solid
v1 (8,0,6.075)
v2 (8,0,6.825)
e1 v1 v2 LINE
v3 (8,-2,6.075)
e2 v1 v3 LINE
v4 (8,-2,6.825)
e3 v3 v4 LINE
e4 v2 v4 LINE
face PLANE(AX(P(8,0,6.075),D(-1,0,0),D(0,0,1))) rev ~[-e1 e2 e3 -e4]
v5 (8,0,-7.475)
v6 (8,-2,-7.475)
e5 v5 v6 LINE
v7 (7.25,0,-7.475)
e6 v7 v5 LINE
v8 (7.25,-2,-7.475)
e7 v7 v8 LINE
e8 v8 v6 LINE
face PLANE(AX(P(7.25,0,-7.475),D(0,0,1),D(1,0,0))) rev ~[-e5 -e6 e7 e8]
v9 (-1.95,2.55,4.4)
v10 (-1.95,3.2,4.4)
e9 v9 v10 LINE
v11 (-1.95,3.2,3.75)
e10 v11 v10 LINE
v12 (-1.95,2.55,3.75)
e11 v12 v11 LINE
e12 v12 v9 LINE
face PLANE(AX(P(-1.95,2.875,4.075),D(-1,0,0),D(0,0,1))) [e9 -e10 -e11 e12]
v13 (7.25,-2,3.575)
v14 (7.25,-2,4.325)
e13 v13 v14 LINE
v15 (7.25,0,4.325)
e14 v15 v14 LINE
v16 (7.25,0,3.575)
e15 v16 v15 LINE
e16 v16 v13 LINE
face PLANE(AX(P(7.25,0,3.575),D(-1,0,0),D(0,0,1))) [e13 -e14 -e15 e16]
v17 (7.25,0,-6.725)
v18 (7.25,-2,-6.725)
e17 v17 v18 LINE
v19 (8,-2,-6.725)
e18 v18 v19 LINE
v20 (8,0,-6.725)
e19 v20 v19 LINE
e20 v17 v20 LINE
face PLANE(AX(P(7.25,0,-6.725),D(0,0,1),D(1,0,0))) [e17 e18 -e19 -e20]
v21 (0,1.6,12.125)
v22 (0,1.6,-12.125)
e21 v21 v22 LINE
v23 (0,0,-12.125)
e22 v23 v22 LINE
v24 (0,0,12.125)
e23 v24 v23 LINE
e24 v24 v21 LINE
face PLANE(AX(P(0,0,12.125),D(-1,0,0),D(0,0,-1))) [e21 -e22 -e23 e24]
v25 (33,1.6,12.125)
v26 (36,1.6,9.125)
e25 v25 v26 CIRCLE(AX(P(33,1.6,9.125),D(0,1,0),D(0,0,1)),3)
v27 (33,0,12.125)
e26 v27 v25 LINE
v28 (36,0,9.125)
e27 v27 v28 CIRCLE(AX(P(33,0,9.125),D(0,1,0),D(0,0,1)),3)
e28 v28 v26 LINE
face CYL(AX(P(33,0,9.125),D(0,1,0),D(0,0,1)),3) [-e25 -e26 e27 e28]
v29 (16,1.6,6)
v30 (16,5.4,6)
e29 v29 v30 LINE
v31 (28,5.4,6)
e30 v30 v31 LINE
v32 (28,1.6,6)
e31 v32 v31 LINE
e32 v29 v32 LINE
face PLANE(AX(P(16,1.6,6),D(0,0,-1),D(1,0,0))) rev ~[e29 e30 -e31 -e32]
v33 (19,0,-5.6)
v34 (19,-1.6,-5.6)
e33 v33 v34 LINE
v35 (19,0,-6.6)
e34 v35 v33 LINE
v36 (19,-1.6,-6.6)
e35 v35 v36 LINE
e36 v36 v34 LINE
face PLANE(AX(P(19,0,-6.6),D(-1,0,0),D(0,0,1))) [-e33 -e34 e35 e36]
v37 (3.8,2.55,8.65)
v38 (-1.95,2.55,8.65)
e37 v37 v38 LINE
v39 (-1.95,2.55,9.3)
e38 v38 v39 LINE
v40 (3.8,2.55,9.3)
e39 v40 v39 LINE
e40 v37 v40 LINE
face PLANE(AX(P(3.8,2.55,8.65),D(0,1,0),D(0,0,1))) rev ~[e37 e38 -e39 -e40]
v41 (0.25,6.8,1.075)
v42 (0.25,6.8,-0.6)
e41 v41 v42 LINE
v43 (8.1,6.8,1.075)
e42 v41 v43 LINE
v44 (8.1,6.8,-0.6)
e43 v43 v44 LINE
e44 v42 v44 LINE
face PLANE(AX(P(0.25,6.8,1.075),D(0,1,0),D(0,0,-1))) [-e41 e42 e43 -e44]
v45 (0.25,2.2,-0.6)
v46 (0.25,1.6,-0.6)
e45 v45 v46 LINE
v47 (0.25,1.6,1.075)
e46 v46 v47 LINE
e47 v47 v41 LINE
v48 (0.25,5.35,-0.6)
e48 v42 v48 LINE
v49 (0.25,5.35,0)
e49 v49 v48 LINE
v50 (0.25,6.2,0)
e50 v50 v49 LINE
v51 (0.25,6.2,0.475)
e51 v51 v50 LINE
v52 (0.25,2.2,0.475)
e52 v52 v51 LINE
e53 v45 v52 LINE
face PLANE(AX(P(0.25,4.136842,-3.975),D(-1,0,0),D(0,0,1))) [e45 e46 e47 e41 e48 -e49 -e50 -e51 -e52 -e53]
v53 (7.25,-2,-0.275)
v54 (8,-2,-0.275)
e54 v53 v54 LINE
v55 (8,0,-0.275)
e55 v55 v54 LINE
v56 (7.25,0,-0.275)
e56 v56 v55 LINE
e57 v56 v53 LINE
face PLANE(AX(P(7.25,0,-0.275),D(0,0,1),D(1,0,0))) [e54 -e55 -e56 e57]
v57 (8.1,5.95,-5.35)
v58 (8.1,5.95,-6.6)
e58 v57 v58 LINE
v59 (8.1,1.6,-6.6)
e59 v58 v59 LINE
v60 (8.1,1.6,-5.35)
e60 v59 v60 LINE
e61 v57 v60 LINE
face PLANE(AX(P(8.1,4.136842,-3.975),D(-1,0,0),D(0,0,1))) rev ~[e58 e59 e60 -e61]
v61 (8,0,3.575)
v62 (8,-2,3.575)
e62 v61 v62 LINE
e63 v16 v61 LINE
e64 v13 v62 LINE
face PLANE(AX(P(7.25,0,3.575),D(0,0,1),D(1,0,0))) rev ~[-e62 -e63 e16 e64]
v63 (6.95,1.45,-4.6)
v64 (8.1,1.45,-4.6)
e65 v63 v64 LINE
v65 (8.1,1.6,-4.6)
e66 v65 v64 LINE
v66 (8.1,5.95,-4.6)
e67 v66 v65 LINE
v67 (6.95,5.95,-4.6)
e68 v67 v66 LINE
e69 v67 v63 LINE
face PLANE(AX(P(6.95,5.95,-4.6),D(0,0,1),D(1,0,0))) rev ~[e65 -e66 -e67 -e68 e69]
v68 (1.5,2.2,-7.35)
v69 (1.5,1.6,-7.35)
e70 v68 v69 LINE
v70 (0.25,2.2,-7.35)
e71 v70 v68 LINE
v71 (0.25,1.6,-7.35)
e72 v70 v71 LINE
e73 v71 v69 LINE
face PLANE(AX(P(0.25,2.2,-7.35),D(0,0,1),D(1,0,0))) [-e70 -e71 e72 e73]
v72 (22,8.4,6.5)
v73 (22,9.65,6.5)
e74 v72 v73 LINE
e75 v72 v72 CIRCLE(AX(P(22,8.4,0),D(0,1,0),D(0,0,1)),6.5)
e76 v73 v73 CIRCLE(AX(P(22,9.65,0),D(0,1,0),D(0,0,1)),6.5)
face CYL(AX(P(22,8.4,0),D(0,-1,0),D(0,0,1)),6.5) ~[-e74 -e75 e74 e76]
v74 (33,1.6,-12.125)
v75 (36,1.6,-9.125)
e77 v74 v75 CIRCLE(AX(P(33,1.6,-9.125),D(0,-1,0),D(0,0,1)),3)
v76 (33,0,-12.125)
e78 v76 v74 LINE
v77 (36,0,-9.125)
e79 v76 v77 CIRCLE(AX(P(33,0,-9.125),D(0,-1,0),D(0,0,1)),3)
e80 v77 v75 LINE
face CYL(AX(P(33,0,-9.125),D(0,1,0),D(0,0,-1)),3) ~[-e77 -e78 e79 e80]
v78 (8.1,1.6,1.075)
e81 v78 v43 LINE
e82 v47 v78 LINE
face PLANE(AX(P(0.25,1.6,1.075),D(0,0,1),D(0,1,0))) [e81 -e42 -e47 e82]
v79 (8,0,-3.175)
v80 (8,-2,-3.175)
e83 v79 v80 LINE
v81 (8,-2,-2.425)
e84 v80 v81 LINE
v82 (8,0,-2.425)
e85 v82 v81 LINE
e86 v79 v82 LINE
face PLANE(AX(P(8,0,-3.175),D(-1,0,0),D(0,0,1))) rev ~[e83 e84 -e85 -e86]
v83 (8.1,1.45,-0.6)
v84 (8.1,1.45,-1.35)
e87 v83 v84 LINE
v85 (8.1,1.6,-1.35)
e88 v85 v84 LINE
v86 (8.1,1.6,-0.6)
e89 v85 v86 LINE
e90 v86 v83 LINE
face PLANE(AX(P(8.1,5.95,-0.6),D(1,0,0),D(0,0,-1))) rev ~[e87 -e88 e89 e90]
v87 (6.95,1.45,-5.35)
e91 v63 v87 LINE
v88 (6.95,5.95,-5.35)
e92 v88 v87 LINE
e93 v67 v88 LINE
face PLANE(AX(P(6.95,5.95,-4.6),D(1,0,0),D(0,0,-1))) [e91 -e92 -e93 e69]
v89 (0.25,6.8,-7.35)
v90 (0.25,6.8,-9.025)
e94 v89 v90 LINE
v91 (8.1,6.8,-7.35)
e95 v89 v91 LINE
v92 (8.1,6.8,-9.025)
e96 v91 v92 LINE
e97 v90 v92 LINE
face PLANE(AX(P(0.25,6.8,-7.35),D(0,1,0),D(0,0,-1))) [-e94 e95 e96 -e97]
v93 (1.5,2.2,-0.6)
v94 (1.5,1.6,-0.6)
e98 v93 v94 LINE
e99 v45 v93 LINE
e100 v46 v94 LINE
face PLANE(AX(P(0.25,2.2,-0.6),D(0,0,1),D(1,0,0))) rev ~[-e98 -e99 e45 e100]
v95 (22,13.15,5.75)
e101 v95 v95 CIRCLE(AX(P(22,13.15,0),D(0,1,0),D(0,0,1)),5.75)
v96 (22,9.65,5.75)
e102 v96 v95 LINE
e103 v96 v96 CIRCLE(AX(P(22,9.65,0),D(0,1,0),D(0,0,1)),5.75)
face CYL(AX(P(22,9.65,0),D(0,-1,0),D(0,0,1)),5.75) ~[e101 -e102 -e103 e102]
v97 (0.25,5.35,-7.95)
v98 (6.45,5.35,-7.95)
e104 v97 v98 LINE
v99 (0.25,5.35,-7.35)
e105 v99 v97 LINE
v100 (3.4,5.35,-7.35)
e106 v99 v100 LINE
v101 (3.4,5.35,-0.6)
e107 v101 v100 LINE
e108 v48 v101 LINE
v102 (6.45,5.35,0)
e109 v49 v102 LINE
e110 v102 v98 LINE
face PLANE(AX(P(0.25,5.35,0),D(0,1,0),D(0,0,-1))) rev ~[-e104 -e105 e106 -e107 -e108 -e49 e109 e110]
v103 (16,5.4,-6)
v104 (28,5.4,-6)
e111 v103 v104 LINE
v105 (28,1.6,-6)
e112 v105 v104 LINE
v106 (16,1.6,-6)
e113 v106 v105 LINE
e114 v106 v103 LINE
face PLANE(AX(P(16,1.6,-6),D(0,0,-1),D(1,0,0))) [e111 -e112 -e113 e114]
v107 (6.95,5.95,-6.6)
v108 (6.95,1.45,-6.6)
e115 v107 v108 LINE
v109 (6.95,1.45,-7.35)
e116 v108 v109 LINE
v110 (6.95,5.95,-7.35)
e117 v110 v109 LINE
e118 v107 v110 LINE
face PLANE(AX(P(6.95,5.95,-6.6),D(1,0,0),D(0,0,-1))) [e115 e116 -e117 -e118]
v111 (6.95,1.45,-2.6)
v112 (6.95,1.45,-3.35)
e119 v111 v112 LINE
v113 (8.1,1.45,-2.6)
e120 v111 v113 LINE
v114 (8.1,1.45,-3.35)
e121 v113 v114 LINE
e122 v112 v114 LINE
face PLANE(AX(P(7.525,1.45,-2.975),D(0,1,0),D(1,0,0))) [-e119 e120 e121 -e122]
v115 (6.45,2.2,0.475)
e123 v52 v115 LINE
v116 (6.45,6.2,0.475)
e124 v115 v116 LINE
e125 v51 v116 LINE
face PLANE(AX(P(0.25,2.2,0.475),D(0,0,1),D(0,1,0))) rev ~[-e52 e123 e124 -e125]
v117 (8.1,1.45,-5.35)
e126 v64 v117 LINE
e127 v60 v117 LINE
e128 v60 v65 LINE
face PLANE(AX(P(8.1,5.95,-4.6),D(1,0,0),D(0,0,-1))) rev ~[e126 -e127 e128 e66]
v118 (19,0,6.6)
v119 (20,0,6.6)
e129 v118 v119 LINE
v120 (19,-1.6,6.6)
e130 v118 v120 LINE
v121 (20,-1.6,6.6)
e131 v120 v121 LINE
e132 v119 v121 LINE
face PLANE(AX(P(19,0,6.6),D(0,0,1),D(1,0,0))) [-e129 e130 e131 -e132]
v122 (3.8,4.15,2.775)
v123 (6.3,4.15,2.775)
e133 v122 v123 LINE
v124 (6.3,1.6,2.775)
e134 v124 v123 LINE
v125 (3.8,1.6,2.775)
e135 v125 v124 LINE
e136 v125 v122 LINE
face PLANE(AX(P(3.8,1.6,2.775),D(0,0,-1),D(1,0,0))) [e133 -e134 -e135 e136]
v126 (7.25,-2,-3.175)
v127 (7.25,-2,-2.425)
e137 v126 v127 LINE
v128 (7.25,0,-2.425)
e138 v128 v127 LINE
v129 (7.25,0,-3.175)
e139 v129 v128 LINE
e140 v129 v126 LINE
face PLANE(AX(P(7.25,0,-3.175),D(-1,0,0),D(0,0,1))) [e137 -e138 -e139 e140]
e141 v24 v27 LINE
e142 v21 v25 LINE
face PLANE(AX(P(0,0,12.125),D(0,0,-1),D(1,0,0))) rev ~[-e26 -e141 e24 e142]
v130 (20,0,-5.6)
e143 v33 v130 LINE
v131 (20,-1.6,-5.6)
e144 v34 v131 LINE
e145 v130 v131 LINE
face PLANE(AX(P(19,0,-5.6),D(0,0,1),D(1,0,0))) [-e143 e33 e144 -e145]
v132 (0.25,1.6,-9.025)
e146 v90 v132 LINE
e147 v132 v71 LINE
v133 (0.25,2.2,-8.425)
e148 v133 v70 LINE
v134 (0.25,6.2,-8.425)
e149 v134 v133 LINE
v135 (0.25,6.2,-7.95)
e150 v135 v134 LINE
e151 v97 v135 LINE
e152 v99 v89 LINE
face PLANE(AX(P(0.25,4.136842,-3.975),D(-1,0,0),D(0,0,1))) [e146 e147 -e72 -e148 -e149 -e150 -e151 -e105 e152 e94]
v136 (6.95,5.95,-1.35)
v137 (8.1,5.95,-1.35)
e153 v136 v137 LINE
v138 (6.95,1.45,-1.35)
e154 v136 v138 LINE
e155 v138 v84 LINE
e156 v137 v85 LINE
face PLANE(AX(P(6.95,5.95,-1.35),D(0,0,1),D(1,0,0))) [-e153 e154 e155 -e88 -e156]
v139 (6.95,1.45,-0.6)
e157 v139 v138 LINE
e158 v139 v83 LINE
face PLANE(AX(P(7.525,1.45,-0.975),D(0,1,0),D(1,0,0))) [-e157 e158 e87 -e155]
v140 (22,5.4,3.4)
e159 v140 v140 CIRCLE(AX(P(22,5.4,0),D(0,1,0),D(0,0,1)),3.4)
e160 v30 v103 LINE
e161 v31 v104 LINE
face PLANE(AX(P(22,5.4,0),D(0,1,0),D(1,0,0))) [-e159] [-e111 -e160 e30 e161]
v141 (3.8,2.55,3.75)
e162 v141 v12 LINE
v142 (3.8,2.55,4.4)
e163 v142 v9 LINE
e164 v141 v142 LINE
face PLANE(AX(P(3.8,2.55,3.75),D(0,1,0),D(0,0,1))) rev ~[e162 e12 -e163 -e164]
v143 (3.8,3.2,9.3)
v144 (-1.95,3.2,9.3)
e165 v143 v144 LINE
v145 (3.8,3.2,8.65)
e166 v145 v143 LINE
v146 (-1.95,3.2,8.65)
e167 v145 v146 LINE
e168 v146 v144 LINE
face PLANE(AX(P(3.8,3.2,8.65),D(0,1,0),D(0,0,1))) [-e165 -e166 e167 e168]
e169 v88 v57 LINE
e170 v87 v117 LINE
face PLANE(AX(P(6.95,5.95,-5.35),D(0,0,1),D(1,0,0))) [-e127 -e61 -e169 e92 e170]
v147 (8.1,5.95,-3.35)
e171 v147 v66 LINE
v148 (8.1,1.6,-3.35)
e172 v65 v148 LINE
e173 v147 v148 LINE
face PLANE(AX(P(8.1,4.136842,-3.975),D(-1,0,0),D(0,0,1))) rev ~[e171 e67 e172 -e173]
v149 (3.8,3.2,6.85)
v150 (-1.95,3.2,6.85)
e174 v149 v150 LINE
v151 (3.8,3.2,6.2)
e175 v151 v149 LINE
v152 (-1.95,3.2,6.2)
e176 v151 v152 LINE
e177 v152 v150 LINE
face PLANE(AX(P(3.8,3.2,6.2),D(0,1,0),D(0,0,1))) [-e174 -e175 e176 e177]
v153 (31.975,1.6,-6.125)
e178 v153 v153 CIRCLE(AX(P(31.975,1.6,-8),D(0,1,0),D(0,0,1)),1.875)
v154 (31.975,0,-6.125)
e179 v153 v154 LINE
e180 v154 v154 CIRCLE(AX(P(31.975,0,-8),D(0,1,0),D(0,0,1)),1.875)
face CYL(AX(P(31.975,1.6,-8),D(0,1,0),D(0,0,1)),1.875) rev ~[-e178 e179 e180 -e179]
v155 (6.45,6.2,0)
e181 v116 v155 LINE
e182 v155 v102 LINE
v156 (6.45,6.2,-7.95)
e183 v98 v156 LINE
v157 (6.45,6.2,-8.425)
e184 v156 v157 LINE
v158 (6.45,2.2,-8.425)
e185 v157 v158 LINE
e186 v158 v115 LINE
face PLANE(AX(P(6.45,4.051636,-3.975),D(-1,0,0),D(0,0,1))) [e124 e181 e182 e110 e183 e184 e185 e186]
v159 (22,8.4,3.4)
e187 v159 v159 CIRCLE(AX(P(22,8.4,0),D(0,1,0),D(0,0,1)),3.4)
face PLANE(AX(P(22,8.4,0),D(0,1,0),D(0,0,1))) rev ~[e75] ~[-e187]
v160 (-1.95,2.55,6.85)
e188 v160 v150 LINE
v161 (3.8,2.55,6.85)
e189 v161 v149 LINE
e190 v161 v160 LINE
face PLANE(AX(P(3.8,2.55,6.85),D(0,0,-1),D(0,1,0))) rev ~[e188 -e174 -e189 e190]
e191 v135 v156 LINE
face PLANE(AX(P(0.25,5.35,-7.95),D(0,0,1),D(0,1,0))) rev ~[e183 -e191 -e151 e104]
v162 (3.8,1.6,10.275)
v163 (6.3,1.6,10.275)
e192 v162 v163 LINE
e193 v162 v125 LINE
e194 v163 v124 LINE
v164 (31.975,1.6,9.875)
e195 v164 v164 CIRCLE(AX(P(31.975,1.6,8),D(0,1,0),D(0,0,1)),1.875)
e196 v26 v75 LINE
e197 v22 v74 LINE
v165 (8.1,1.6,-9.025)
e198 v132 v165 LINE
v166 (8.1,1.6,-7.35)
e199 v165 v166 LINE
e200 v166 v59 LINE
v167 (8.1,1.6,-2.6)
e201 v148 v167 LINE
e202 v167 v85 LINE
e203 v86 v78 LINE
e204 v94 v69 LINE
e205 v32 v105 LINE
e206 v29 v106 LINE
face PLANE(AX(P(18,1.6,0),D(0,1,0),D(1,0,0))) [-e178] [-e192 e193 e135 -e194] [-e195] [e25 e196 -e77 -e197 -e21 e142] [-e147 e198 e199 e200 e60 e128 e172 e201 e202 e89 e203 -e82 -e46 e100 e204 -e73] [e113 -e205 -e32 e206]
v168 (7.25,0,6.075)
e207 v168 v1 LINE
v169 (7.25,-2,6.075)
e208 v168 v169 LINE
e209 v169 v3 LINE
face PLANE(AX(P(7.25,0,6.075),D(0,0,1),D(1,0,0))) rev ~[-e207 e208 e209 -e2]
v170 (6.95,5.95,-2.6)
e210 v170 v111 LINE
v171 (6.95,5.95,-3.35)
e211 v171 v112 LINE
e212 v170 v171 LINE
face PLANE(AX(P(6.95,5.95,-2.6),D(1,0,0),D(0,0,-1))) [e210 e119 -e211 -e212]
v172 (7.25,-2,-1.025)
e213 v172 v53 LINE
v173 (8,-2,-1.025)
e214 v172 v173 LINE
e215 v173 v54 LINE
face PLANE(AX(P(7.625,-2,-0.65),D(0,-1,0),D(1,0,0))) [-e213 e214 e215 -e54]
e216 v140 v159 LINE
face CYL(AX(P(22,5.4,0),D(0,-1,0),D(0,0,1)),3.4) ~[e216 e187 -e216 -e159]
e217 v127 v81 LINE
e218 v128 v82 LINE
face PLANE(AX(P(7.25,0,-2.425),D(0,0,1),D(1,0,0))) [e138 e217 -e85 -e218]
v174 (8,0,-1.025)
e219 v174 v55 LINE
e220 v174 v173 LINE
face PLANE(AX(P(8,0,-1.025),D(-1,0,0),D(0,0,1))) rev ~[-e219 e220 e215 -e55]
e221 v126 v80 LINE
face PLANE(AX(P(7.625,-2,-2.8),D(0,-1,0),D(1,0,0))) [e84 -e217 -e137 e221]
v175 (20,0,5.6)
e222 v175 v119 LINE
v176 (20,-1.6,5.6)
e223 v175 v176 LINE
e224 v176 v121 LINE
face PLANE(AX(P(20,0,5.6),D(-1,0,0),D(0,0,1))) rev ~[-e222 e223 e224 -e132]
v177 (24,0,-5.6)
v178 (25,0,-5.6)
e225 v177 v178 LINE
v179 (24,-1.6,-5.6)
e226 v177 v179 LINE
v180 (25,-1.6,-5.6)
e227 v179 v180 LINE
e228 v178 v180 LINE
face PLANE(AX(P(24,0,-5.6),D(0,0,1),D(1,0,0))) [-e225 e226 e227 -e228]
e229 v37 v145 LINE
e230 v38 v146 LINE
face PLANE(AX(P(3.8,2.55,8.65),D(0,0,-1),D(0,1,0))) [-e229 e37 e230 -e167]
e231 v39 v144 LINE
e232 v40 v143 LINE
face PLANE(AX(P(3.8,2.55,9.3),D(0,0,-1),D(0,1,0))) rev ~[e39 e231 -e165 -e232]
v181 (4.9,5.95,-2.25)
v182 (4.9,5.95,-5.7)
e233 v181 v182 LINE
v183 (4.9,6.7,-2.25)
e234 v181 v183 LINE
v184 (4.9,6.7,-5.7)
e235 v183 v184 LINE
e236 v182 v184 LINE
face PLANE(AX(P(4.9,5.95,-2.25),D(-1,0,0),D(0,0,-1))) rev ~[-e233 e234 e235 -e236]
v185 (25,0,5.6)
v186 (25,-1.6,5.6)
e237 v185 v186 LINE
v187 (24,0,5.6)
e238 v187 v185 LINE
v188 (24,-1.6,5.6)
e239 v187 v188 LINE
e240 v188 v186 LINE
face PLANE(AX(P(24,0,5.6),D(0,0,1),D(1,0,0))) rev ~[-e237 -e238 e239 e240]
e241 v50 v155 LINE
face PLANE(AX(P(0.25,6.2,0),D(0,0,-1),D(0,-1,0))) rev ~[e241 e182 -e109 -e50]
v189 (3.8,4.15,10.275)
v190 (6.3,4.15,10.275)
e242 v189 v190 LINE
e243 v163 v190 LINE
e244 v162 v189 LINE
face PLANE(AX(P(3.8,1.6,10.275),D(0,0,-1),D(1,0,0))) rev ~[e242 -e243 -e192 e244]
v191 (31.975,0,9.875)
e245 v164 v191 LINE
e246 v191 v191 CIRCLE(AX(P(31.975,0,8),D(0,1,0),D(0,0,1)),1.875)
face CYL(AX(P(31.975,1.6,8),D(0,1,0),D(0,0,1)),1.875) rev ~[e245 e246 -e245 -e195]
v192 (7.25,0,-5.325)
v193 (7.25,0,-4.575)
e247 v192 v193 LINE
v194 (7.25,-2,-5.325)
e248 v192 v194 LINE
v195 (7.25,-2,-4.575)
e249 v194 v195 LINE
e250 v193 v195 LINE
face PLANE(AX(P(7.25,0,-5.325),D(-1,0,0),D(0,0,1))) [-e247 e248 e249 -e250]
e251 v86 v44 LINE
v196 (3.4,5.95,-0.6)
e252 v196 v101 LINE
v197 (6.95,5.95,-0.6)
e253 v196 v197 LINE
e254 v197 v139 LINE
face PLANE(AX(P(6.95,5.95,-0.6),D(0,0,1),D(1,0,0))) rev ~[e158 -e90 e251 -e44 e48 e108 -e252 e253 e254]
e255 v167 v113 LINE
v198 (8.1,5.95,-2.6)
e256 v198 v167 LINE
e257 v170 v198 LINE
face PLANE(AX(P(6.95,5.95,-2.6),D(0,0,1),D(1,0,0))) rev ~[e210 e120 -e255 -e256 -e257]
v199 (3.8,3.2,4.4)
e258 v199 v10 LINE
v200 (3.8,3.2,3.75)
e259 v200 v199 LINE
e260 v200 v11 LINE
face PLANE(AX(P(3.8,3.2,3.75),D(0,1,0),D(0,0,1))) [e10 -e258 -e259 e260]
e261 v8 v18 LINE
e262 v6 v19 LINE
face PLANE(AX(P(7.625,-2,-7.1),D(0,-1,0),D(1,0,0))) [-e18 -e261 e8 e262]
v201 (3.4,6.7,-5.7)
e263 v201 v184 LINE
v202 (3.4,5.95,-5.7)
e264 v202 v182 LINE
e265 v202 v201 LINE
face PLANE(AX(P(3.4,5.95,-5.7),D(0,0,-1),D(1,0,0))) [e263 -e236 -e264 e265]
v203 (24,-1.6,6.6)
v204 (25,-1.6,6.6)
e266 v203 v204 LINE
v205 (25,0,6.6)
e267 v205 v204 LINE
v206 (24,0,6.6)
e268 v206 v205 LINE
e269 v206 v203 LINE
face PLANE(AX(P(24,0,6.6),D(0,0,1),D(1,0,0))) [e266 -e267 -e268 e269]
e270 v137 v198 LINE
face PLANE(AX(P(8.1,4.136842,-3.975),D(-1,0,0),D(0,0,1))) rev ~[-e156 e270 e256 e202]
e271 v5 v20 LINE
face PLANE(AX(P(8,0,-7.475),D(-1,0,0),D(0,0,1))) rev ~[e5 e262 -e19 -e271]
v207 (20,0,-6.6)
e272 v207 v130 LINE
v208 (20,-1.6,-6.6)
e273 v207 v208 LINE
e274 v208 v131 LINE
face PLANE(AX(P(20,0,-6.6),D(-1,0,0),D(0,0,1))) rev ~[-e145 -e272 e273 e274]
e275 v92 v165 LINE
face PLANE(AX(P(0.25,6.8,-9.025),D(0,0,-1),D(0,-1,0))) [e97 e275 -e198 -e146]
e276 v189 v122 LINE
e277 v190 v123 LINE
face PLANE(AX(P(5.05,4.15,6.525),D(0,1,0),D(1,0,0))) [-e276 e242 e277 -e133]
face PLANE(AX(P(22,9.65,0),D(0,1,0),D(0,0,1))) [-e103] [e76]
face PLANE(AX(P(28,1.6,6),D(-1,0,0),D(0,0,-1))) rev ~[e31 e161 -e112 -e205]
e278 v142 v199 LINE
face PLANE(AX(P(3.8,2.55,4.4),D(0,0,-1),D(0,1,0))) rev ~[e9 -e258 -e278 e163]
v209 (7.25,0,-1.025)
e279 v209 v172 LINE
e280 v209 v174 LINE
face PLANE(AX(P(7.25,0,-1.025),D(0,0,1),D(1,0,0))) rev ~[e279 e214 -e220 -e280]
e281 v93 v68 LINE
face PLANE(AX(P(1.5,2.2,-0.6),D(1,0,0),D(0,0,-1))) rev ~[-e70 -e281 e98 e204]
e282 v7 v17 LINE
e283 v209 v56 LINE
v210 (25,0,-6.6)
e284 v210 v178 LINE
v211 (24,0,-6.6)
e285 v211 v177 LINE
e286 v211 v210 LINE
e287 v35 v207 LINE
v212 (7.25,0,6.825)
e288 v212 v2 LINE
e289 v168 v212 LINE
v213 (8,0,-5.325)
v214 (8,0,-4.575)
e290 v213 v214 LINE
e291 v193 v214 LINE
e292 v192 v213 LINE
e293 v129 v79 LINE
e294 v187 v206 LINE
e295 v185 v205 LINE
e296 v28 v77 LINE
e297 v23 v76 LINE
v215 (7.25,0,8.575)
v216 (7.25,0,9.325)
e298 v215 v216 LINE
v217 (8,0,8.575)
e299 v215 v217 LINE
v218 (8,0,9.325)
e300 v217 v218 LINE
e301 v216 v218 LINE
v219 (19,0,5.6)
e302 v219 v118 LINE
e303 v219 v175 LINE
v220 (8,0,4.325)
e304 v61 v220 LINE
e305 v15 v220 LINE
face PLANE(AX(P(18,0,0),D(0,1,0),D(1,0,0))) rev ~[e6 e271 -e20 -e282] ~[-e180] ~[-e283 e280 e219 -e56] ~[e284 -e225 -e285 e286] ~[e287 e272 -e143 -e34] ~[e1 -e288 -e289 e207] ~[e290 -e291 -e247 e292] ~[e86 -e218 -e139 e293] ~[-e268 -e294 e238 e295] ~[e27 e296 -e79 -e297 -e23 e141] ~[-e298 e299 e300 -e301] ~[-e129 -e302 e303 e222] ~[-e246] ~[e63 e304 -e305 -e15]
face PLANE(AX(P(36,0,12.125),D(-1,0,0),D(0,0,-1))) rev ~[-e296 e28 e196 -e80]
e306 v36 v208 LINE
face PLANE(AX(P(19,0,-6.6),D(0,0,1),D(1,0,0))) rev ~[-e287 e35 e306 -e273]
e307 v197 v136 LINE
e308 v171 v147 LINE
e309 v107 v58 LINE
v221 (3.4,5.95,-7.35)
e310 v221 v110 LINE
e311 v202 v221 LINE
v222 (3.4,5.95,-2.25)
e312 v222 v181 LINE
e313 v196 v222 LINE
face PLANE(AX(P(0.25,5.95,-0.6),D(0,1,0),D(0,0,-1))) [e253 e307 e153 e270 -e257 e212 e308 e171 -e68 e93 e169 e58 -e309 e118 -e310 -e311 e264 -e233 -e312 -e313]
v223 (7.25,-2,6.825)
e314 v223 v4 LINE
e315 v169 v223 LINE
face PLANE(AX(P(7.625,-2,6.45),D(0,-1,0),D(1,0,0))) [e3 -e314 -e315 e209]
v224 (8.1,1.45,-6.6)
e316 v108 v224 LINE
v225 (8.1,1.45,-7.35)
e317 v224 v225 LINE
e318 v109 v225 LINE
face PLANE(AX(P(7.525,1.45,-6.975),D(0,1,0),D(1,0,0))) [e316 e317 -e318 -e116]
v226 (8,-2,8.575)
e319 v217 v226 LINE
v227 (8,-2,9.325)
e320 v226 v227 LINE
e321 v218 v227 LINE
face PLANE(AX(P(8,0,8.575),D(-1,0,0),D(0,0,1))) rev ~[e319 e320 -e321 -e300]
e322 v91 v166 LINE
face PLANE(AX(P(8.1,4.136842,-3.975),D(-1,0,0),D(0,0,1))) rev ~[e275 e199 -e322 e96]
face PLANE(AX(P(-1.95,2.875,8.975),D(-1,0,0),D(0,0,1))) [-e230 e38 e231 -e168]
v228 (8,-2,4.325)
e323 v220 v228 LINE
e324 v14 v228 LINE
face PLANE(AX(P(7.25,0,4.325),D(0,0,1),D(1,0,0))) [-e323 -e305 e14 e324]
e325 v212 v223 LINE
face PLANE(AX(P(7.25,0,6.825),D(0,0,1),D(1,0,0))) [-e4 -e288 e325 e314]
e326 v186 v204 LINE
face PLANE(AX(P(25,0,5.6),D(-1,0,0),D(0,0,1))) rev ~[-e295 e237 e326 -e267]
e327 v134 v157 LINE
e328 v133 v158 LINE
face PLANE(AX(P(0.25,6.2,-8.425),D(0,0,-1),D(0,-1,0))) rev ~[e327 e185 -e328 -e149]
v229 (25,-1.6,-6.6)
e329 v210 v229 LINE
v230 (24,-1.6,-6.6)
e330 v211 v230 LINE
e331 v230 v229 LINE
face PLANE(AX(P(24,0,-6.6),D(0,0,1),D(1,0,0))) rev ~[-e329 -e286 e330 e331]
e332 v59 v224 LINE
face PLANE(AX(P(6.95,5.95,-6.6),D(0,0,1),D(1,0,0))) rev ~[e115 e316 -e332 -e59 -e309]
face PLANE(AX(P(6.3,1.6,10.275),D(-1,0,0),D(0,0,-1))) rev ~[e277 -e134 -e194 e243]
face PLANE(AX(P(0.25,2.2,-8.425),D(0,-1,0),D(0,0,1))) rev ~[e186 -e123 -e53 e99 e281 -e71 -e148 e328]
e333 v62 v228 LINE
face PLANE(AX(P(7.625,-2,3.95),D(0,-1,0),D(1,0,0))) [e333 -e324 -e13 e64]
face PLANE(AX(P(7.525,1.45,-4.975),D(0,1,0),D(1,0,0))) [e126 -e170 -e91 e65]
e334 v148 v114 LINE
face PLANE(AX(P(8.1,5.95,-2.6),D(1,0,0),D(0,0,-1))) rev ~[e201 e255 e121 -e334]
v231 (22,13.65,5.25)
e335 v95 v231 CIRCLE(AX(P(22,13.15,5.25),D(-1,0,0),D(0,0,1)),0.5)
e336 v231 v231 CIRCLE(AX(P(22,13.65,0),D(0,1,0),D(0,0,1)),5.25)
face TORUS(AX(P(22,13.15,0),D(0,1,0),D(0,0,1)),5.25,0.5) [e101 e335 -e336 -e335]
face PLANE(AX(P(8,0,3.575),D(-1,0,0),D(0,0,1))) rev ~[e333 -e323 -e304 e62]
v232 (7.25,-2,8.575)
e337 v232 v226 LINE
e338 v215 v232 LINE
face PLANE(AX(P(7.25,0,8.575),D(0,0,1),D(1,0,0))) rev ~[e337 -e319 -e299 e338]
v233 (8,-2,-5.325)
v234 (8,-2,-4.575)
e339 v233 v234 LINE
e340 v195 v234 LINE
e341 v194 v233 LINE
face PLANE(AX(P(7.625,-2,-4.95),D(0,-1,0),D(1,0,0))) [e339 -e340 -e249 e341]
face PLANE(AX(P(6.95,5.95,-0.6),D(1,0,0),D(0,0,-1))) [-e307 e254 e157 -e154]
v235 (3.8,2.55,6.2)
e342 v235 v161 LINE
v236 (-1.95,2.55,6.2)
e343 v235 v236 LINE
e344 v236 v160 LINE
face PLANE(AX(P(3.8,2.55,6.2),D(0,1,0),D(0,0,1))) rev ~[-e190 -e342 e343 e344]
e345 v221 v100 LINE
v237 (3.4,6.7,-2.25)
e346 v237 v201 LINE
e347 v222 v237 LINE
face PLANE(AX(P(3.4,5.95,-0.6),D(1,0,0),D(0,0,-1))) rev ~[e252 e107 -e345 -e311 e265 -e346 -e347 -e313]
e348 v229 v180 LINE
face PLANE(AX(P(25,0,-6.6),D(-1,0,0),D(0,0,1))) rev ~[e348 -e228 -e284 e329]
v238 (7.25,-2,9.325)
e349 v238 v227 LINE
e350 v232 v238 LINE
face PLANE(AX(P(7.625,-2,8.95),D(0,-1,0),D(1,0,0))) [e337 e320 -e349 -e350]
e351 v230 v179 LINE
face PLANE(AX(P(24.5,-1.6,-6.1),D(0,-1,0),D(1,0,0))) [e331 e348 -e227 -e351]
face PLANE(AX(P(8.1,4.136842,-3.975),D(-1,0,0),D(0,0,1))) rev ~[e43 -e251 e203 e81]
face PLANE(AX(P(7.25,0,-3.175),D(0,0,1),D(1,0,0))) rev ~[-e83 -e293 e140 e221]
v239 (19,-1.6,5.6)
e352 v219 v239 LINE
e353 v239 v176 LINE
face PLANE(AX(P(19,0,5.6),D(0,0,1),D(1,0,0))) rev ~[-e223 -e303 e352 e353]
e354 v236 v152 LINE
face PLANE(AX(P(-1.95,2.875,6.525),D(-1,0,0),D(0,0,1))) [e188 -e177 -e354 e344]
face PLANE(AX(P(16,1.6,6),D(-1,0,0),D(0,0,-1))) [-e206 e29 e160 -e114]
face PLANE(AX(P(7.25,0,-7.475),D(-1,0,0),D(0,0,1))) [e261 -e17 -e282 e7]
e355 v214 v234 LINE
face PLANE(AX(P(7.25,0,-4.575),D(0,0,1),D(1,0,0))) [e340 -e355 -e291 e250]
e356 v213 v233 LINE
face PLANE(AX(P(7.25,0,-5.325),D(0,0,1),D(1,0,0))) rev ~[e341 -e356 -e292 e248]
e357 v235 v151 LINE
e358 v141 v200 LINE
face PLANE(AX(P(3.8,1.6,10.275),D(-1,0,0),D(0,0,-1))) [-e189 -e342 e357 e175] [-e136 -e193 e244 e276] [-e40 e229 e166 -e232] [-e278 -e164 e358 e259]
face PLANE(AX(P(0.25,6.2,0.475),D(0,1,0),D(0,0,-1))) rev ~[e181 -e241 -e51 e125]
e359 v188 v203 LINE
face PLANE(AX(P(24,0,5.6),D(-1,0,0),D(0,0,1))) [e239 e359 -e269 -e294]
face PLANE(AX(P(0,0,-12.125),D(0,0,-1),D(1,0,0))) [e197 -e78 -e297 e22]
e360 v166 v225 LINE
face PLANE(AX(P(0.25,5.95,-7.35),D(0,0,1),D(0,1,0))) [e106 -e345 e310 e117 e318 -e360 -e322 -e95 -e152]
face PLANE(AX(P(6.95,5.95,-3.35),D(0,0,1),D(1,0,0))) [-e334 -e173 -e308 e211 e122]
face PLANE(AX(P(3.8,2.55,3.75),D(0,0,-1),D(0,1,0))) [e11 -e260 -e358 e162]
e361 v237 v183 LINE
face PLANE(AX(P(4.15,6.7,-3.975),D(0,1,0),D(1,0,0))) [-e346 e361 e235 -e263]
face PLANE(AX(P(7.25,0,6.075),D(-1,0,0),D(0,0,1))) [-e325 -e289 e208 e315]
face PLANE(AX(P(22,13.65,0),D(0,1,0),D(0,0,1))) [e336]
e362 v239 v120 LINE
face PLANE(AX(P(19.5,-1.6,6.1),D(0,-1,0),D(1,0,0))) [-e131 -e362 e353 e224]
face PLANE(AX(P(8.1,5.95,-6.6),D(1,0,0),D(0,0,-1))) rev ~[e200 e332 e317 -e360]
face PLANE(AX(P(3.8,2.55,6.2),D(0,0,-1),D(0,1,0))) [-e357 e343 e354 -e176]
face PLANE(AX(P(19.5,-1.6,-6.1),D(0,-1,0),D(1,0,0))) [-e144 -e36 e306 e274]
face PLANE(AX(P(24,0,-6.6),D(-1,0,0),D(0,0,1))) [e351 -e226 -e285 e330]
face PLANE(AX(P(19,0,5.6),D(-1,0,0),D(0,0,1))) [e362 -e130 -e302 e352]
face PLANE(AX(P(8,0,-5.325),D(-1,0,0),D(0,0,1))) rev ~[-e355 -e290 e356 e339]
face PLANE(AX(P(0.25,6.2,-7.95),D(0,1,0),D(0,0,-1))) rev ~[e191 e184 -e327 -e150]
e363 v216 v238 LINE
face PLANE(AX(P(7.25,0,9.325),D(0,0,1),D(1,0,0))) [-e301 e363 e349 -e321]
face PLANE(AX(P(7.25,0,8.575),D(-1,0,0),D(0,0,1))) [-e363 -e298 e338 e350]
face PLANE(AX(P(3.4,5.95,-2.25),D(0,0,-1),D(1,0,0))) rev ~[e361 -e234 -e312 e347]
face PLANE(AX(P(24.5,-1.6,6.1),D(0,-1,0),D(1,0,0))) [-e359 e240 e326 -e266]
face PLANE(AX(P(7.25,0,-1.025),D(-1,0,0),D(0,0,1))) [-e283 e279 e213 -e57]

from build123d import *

# Parameters (mm, degrees)
SKETCH1_W            = 36
SKETCH1_H            = 24.25
BOSS_EXTRUDE1_DEPTH  = 1.6
SKETCH2_R            = 1.875
CUT_EXTRUDE1_DEPTH   = 39.020726256
FILLET1_R            = 3
SKETCH3_W            = 12
SKETCH3_H            = 12
BOSS_EXTRUDE2_DEPTH  = 3.8
SKETCH4_R            = 3.4
BOSS_EXTRUDE3_DEPTH  = 3
SKETCH5_R            = 6.5
BOSS_EXTRUDE4_DEPTH  = 1.25
SKETCH6_R            = 5.75
BOSS_EXTRUDE5_DEPTH  = 4
FILLET2_R            = 0.5
SKETCH7_W            = 2.5
SKETCH7_H            = 7.5
BOSS_EXTRUDE6_DEPTH  = 2.55
SKETCH8_W            = 0.65
SKETCH8_H            = 0.65
BOSS_EXTRUDE7_DEPTH  = 5.75
BOSS_EXTRUDE8_DEPTH  = 7.85
CUT_EXTRUDE2_DEPTH   = 6.2
SKETCH11_W           = 3.15
SKETCH11_H           = 6.75
CUT_EXTRUDE3_DEPTH   = 1
SKETCH12_W           = 1.25
SKETCH12_H           = 6.75
CUT_EXTRUDE4_DEPTH   = 0.6
SKETCH13_W           = 1.5
SKETCH13_H           = 3.45
BOSS_EXTRUDE9_DEPTH  = 0.75
SKETCH14_W           = 1.15
SKETCH14_H           = 0.75
CUT_EXTRUDE5_DEPTH   = 4.5
SKETCH15_W           = 1
SKETCH15_H           = 1
BOSS_EXTRUDE10_DEPTH = 1.6
SKETCH16_W           = 0.75
SKETCH16_H           = 0.75
BOSS_EXTRUDE11_DEPTH = 2


with BuildPart() as part:
    # Sketch1 → Boss-Extrude1 (new body)
    with BuildSketch(Plane(origin=(0, 0, 0), x_dir=(1, 0, 0), z_dir=(0, 1, 0))):
        with Locations((18, 0)):
            Rectangle(SKETCH1_W, SKETCH1_H)
    extrude(amount=BOSS_EXTRUDE1_DEPTH)

    # Sketch2 → Cut-Extrude1 (cut, through all)
    with BuildSketch(Plane(origin=(0, 1.6, 0), x_dir=(1, 0, 0), z_dir=(0, 1, 0))):
        with Locations(Location((31.975, 8, 0), (0, 0, 270))):
            Circle(SKETCH2_R)
        with Locations(Location((31.975, -8, 0), (0, 0, 270))):
            Circle(SKETCH2_R)
    extrude(amount=-CUT_EXTRUDE1_DEPTH, mode=Mode.SUBTRACT)

    # Fillet1
    fillet1_edges = [part.edges().sort_by_distance(p)[0] for p in [
        (36, 0.8, -12.125),
        (36, 0.8, 12.125),
    ]]
    fillet(fillet1_edges, radius=FILLET1_R)

    # Sketch3 → Boss-Extrude2 (add)
    with BuildSketch(Plane(origin=(0, 1.6, 0), x_dir=(1, 0, 0), z_dir=(0, 1, 0))):
        with Locations((22, 0)):
            Rectangle(SKETCH3_W, SKETCH3_H)
    extrude(amount=BOSS_EXTRUDE2_DEPTH)

    # Sketch4 → Boss-Extrude3 (add)
    with BuildSketch(Plane(origin=(0, 5.4, 0), x_dir=(1, 0, 0), z_dir=(0, 1, 0))):
        with Locations(Location((22, 0, 0), (0, 0, 270))):
            Circle(SKETCH4_R)
    extrude(amount=BOSS_EXTRUDE3_DEPTH)

    # Sketch5 → Boss-Extrude4 (add)
    with BuildSketch(Plane(origin=(0, 8.4, 0), x_dir=(1, 0, 0), z_dir=(0, 1, 0))):
        with Locations(Location((22, 0, 0), (0, 0, 270))):
            Circle(SKETCH5_R)
    extrude(amount=BOSS_EXTRUDE4_DEPTH)

    # Sketch6 → Boss-Extrude5 (add)
    with BuildSketch(Plane(origin=(0, 9.65, 0), x_dir=(1, 0, 0), z_dir=(0, 1, 0))):
        with Locations(Location((22, 0, 0), (0, 0, 270))):
            Circle(SKETCH6_R)
    extrude(amount=BOSS_EXTRUDE5_DEPTH)

    # Fillet2
    fillet2_edges = [part.edges().sort_by_distance(p)[0] for p in [
        (22, 13.65, -5.75),
    ]]
    fillet(fillet2_edges, radius=FILLET2_R)

    # Sketch7 → Boss-Extrude6 (add)
    with BuildSketch(Plane(origin=(0, 1.6, 0), x_dir=(1, 0, 0), z_dir=(0, 1, 0))):
        with Locations((5.05, -6.525)):
            Rectangle(SKETCH7_W, SKETCH7_H)
    extrude(amount=BOSS_EXTRUDE6_DEPTH)

    # Sketch8 → Boss-Extrude7 (add)
    with BuildSketch(Plane.ZY.offset(-3.8)):
        with Locations((4.075, 2.875)):
            Rectangle(SKETCH8_W, SKETCH8_H)
        with Locations((6.525, 2.875)):
            Rectangle(SKETCH8_W, SKETCH8_H)
        with Locations((8.975, 2.875)):
            Rectangle(SKETCH8_W, SKETCH8_H)
    extrude(amount=BOSS_EXTRUDE7_DEPTH)

    # Sketch9 → Boss-Extrude8 (add)
    with BuildSketch(Plane.ZY.offset(-0.25)):
        Polygon((-9.025, 1.6), (1.075, 1.6), (1.075, 6.8), (-0.6, 6.8), (-0.6, 5.95), (-7.35, 5.95), (-7.35, 6.8), (-9.025, 6.8), align=None)
    extrude(amount=-BOSS_EXTRUDE8_DEPTH)

    # Sketch10 → Cut-Extrude2 (cut)
    with BuildSketch(Plane.ZY.offset(-0.25)):
        Polygon((-8.425, 6.2), (-8.425, 2.2), (0.475, 2.2), (0.475, 6.2), (0, 6.2), (0, 5.35), (-7.95, 5.35), (-7.95, 6.2), align=None)
    extrude(amount=-CUT_EXTRUDE2_DEPTH, mode=Mode.SUBTRACT)

    # Sketch11 → Cut-Extrude3 (cut)
    with BuildSketch(Plane(origin=(0, 5.95, 0), x_dir=(1, 0, 0), z_dir=(0, 1, 0))):
        with Locations((1.825, 3.975)):
            Rectangle(SKETCH11_W, SKETCH11_H)
    extrude(amount=-CUT_EXTRUDE3_DEPTH, mode=Mode.SUBTRACT)

    # Sketch12 → Cut-Extrude4 (cut)
    with BuildSketch(Plane(origin=(0, 2.2, 0), x_dir=(1, 0, 0), z_dir=(0, 1, 0))):
        with Locations((0.875, 3.975)):
            Rectangle(SKETCH12_W, SKETCH12_H)
    extrude(amount=-CUT_EXTRUDE4_DEPTH, mode=Mode.SUBTRACT)

    # Sketch13 → Boss-Extrude9 (add)
    with BuildSketch(Plane(origin=(0, 5.95, 0), x_dir=(1, 0, 0), z_dir=(0, 1, 0))):
        with Locations((4.15, 3.975)):
            Rectangle(SKETCH13_W, SKETCH13_H)
    extrude(amount=BOSS_EXTRUDE9_DEPTH)

    # Sketch14 → Cut-Extrude5 (cut)
    with BuildSketch(Plane(origin=(0, 5.95, 0), x_dir=(1, 0, 0), z_dir=(0, 1, 0))):
        with Locations((7.525, 6.975)):
            Rectangle(SKETCH14_W, SKETCH14_H)
        with Locations((7.525, 4.975)):
            Rectangle(SKETCH14_W, SKETCH14_H)
        with Locations((7.525, 2.975)):
            Rectangle(SKETCH14_W, SKETCH14_H)
        with Locations((7.525, 0.975)):
            Rectangle(SKETCH14_W, SKETCH14_H)
    extrude(amount=-CUT_EXTRUDE5_DEPTH, mode=Mode.SUBTRACT)

    # Sketch15 → Boss-Extrude10 (add)
    with BuildSketch(Plane.XZ):
        with Locations((24.5, -6.1)):
            Rectangle(SKETCH15_W, SKETCH15_H)
        with Locations((19.5, 6.1)):
            Rectangle(SKETCH15_W, SKETCH15_H)
        with Locations((24.5, 6.1)):
            Rectangle(SKETCH15_W, SKETCH15_H)
        with Locations((19.5, -6.1)):
            Rectangle(SKETCH15_W, SKETCH15_H)
    extrude(amount=BOSS_EXTRUDE10_DEPTH)

    # Sketch16 → Boss-Extrude11 (add)
    with BuildSketch(Plane.XZ):
        with Locations((7.625, 8.95)):
            Rectangle(SKETCH16_W, SKETCH16_H)
        with Locations((7.625, 6.45)):
            Rectangle(SKETCH16_W, SKETCH16_H)
        with Locations((7.625, 3.95)):
            Rectangle(SKETCH16_W, SKETCH16_H)
        with Locations((7.625, -0.65)):
            Rectangle(SKETCH16_W, SKETCH16_H)
        with Locations((7.625, -2.8)):
            Rectangle(SKETCH16_W, SKETCH16_H)
        with Locations((7.625, -4.95)):
            Rectangle(SKETCH16_W, SKETCH16_H)
        with Locations((7.625, -7.1)):
            Rectangle(SKETCH16_W, SKETCH16_H)
    extrude(amount=BOSS_EXTRUDE11_DEPTH)


solid = part.part
